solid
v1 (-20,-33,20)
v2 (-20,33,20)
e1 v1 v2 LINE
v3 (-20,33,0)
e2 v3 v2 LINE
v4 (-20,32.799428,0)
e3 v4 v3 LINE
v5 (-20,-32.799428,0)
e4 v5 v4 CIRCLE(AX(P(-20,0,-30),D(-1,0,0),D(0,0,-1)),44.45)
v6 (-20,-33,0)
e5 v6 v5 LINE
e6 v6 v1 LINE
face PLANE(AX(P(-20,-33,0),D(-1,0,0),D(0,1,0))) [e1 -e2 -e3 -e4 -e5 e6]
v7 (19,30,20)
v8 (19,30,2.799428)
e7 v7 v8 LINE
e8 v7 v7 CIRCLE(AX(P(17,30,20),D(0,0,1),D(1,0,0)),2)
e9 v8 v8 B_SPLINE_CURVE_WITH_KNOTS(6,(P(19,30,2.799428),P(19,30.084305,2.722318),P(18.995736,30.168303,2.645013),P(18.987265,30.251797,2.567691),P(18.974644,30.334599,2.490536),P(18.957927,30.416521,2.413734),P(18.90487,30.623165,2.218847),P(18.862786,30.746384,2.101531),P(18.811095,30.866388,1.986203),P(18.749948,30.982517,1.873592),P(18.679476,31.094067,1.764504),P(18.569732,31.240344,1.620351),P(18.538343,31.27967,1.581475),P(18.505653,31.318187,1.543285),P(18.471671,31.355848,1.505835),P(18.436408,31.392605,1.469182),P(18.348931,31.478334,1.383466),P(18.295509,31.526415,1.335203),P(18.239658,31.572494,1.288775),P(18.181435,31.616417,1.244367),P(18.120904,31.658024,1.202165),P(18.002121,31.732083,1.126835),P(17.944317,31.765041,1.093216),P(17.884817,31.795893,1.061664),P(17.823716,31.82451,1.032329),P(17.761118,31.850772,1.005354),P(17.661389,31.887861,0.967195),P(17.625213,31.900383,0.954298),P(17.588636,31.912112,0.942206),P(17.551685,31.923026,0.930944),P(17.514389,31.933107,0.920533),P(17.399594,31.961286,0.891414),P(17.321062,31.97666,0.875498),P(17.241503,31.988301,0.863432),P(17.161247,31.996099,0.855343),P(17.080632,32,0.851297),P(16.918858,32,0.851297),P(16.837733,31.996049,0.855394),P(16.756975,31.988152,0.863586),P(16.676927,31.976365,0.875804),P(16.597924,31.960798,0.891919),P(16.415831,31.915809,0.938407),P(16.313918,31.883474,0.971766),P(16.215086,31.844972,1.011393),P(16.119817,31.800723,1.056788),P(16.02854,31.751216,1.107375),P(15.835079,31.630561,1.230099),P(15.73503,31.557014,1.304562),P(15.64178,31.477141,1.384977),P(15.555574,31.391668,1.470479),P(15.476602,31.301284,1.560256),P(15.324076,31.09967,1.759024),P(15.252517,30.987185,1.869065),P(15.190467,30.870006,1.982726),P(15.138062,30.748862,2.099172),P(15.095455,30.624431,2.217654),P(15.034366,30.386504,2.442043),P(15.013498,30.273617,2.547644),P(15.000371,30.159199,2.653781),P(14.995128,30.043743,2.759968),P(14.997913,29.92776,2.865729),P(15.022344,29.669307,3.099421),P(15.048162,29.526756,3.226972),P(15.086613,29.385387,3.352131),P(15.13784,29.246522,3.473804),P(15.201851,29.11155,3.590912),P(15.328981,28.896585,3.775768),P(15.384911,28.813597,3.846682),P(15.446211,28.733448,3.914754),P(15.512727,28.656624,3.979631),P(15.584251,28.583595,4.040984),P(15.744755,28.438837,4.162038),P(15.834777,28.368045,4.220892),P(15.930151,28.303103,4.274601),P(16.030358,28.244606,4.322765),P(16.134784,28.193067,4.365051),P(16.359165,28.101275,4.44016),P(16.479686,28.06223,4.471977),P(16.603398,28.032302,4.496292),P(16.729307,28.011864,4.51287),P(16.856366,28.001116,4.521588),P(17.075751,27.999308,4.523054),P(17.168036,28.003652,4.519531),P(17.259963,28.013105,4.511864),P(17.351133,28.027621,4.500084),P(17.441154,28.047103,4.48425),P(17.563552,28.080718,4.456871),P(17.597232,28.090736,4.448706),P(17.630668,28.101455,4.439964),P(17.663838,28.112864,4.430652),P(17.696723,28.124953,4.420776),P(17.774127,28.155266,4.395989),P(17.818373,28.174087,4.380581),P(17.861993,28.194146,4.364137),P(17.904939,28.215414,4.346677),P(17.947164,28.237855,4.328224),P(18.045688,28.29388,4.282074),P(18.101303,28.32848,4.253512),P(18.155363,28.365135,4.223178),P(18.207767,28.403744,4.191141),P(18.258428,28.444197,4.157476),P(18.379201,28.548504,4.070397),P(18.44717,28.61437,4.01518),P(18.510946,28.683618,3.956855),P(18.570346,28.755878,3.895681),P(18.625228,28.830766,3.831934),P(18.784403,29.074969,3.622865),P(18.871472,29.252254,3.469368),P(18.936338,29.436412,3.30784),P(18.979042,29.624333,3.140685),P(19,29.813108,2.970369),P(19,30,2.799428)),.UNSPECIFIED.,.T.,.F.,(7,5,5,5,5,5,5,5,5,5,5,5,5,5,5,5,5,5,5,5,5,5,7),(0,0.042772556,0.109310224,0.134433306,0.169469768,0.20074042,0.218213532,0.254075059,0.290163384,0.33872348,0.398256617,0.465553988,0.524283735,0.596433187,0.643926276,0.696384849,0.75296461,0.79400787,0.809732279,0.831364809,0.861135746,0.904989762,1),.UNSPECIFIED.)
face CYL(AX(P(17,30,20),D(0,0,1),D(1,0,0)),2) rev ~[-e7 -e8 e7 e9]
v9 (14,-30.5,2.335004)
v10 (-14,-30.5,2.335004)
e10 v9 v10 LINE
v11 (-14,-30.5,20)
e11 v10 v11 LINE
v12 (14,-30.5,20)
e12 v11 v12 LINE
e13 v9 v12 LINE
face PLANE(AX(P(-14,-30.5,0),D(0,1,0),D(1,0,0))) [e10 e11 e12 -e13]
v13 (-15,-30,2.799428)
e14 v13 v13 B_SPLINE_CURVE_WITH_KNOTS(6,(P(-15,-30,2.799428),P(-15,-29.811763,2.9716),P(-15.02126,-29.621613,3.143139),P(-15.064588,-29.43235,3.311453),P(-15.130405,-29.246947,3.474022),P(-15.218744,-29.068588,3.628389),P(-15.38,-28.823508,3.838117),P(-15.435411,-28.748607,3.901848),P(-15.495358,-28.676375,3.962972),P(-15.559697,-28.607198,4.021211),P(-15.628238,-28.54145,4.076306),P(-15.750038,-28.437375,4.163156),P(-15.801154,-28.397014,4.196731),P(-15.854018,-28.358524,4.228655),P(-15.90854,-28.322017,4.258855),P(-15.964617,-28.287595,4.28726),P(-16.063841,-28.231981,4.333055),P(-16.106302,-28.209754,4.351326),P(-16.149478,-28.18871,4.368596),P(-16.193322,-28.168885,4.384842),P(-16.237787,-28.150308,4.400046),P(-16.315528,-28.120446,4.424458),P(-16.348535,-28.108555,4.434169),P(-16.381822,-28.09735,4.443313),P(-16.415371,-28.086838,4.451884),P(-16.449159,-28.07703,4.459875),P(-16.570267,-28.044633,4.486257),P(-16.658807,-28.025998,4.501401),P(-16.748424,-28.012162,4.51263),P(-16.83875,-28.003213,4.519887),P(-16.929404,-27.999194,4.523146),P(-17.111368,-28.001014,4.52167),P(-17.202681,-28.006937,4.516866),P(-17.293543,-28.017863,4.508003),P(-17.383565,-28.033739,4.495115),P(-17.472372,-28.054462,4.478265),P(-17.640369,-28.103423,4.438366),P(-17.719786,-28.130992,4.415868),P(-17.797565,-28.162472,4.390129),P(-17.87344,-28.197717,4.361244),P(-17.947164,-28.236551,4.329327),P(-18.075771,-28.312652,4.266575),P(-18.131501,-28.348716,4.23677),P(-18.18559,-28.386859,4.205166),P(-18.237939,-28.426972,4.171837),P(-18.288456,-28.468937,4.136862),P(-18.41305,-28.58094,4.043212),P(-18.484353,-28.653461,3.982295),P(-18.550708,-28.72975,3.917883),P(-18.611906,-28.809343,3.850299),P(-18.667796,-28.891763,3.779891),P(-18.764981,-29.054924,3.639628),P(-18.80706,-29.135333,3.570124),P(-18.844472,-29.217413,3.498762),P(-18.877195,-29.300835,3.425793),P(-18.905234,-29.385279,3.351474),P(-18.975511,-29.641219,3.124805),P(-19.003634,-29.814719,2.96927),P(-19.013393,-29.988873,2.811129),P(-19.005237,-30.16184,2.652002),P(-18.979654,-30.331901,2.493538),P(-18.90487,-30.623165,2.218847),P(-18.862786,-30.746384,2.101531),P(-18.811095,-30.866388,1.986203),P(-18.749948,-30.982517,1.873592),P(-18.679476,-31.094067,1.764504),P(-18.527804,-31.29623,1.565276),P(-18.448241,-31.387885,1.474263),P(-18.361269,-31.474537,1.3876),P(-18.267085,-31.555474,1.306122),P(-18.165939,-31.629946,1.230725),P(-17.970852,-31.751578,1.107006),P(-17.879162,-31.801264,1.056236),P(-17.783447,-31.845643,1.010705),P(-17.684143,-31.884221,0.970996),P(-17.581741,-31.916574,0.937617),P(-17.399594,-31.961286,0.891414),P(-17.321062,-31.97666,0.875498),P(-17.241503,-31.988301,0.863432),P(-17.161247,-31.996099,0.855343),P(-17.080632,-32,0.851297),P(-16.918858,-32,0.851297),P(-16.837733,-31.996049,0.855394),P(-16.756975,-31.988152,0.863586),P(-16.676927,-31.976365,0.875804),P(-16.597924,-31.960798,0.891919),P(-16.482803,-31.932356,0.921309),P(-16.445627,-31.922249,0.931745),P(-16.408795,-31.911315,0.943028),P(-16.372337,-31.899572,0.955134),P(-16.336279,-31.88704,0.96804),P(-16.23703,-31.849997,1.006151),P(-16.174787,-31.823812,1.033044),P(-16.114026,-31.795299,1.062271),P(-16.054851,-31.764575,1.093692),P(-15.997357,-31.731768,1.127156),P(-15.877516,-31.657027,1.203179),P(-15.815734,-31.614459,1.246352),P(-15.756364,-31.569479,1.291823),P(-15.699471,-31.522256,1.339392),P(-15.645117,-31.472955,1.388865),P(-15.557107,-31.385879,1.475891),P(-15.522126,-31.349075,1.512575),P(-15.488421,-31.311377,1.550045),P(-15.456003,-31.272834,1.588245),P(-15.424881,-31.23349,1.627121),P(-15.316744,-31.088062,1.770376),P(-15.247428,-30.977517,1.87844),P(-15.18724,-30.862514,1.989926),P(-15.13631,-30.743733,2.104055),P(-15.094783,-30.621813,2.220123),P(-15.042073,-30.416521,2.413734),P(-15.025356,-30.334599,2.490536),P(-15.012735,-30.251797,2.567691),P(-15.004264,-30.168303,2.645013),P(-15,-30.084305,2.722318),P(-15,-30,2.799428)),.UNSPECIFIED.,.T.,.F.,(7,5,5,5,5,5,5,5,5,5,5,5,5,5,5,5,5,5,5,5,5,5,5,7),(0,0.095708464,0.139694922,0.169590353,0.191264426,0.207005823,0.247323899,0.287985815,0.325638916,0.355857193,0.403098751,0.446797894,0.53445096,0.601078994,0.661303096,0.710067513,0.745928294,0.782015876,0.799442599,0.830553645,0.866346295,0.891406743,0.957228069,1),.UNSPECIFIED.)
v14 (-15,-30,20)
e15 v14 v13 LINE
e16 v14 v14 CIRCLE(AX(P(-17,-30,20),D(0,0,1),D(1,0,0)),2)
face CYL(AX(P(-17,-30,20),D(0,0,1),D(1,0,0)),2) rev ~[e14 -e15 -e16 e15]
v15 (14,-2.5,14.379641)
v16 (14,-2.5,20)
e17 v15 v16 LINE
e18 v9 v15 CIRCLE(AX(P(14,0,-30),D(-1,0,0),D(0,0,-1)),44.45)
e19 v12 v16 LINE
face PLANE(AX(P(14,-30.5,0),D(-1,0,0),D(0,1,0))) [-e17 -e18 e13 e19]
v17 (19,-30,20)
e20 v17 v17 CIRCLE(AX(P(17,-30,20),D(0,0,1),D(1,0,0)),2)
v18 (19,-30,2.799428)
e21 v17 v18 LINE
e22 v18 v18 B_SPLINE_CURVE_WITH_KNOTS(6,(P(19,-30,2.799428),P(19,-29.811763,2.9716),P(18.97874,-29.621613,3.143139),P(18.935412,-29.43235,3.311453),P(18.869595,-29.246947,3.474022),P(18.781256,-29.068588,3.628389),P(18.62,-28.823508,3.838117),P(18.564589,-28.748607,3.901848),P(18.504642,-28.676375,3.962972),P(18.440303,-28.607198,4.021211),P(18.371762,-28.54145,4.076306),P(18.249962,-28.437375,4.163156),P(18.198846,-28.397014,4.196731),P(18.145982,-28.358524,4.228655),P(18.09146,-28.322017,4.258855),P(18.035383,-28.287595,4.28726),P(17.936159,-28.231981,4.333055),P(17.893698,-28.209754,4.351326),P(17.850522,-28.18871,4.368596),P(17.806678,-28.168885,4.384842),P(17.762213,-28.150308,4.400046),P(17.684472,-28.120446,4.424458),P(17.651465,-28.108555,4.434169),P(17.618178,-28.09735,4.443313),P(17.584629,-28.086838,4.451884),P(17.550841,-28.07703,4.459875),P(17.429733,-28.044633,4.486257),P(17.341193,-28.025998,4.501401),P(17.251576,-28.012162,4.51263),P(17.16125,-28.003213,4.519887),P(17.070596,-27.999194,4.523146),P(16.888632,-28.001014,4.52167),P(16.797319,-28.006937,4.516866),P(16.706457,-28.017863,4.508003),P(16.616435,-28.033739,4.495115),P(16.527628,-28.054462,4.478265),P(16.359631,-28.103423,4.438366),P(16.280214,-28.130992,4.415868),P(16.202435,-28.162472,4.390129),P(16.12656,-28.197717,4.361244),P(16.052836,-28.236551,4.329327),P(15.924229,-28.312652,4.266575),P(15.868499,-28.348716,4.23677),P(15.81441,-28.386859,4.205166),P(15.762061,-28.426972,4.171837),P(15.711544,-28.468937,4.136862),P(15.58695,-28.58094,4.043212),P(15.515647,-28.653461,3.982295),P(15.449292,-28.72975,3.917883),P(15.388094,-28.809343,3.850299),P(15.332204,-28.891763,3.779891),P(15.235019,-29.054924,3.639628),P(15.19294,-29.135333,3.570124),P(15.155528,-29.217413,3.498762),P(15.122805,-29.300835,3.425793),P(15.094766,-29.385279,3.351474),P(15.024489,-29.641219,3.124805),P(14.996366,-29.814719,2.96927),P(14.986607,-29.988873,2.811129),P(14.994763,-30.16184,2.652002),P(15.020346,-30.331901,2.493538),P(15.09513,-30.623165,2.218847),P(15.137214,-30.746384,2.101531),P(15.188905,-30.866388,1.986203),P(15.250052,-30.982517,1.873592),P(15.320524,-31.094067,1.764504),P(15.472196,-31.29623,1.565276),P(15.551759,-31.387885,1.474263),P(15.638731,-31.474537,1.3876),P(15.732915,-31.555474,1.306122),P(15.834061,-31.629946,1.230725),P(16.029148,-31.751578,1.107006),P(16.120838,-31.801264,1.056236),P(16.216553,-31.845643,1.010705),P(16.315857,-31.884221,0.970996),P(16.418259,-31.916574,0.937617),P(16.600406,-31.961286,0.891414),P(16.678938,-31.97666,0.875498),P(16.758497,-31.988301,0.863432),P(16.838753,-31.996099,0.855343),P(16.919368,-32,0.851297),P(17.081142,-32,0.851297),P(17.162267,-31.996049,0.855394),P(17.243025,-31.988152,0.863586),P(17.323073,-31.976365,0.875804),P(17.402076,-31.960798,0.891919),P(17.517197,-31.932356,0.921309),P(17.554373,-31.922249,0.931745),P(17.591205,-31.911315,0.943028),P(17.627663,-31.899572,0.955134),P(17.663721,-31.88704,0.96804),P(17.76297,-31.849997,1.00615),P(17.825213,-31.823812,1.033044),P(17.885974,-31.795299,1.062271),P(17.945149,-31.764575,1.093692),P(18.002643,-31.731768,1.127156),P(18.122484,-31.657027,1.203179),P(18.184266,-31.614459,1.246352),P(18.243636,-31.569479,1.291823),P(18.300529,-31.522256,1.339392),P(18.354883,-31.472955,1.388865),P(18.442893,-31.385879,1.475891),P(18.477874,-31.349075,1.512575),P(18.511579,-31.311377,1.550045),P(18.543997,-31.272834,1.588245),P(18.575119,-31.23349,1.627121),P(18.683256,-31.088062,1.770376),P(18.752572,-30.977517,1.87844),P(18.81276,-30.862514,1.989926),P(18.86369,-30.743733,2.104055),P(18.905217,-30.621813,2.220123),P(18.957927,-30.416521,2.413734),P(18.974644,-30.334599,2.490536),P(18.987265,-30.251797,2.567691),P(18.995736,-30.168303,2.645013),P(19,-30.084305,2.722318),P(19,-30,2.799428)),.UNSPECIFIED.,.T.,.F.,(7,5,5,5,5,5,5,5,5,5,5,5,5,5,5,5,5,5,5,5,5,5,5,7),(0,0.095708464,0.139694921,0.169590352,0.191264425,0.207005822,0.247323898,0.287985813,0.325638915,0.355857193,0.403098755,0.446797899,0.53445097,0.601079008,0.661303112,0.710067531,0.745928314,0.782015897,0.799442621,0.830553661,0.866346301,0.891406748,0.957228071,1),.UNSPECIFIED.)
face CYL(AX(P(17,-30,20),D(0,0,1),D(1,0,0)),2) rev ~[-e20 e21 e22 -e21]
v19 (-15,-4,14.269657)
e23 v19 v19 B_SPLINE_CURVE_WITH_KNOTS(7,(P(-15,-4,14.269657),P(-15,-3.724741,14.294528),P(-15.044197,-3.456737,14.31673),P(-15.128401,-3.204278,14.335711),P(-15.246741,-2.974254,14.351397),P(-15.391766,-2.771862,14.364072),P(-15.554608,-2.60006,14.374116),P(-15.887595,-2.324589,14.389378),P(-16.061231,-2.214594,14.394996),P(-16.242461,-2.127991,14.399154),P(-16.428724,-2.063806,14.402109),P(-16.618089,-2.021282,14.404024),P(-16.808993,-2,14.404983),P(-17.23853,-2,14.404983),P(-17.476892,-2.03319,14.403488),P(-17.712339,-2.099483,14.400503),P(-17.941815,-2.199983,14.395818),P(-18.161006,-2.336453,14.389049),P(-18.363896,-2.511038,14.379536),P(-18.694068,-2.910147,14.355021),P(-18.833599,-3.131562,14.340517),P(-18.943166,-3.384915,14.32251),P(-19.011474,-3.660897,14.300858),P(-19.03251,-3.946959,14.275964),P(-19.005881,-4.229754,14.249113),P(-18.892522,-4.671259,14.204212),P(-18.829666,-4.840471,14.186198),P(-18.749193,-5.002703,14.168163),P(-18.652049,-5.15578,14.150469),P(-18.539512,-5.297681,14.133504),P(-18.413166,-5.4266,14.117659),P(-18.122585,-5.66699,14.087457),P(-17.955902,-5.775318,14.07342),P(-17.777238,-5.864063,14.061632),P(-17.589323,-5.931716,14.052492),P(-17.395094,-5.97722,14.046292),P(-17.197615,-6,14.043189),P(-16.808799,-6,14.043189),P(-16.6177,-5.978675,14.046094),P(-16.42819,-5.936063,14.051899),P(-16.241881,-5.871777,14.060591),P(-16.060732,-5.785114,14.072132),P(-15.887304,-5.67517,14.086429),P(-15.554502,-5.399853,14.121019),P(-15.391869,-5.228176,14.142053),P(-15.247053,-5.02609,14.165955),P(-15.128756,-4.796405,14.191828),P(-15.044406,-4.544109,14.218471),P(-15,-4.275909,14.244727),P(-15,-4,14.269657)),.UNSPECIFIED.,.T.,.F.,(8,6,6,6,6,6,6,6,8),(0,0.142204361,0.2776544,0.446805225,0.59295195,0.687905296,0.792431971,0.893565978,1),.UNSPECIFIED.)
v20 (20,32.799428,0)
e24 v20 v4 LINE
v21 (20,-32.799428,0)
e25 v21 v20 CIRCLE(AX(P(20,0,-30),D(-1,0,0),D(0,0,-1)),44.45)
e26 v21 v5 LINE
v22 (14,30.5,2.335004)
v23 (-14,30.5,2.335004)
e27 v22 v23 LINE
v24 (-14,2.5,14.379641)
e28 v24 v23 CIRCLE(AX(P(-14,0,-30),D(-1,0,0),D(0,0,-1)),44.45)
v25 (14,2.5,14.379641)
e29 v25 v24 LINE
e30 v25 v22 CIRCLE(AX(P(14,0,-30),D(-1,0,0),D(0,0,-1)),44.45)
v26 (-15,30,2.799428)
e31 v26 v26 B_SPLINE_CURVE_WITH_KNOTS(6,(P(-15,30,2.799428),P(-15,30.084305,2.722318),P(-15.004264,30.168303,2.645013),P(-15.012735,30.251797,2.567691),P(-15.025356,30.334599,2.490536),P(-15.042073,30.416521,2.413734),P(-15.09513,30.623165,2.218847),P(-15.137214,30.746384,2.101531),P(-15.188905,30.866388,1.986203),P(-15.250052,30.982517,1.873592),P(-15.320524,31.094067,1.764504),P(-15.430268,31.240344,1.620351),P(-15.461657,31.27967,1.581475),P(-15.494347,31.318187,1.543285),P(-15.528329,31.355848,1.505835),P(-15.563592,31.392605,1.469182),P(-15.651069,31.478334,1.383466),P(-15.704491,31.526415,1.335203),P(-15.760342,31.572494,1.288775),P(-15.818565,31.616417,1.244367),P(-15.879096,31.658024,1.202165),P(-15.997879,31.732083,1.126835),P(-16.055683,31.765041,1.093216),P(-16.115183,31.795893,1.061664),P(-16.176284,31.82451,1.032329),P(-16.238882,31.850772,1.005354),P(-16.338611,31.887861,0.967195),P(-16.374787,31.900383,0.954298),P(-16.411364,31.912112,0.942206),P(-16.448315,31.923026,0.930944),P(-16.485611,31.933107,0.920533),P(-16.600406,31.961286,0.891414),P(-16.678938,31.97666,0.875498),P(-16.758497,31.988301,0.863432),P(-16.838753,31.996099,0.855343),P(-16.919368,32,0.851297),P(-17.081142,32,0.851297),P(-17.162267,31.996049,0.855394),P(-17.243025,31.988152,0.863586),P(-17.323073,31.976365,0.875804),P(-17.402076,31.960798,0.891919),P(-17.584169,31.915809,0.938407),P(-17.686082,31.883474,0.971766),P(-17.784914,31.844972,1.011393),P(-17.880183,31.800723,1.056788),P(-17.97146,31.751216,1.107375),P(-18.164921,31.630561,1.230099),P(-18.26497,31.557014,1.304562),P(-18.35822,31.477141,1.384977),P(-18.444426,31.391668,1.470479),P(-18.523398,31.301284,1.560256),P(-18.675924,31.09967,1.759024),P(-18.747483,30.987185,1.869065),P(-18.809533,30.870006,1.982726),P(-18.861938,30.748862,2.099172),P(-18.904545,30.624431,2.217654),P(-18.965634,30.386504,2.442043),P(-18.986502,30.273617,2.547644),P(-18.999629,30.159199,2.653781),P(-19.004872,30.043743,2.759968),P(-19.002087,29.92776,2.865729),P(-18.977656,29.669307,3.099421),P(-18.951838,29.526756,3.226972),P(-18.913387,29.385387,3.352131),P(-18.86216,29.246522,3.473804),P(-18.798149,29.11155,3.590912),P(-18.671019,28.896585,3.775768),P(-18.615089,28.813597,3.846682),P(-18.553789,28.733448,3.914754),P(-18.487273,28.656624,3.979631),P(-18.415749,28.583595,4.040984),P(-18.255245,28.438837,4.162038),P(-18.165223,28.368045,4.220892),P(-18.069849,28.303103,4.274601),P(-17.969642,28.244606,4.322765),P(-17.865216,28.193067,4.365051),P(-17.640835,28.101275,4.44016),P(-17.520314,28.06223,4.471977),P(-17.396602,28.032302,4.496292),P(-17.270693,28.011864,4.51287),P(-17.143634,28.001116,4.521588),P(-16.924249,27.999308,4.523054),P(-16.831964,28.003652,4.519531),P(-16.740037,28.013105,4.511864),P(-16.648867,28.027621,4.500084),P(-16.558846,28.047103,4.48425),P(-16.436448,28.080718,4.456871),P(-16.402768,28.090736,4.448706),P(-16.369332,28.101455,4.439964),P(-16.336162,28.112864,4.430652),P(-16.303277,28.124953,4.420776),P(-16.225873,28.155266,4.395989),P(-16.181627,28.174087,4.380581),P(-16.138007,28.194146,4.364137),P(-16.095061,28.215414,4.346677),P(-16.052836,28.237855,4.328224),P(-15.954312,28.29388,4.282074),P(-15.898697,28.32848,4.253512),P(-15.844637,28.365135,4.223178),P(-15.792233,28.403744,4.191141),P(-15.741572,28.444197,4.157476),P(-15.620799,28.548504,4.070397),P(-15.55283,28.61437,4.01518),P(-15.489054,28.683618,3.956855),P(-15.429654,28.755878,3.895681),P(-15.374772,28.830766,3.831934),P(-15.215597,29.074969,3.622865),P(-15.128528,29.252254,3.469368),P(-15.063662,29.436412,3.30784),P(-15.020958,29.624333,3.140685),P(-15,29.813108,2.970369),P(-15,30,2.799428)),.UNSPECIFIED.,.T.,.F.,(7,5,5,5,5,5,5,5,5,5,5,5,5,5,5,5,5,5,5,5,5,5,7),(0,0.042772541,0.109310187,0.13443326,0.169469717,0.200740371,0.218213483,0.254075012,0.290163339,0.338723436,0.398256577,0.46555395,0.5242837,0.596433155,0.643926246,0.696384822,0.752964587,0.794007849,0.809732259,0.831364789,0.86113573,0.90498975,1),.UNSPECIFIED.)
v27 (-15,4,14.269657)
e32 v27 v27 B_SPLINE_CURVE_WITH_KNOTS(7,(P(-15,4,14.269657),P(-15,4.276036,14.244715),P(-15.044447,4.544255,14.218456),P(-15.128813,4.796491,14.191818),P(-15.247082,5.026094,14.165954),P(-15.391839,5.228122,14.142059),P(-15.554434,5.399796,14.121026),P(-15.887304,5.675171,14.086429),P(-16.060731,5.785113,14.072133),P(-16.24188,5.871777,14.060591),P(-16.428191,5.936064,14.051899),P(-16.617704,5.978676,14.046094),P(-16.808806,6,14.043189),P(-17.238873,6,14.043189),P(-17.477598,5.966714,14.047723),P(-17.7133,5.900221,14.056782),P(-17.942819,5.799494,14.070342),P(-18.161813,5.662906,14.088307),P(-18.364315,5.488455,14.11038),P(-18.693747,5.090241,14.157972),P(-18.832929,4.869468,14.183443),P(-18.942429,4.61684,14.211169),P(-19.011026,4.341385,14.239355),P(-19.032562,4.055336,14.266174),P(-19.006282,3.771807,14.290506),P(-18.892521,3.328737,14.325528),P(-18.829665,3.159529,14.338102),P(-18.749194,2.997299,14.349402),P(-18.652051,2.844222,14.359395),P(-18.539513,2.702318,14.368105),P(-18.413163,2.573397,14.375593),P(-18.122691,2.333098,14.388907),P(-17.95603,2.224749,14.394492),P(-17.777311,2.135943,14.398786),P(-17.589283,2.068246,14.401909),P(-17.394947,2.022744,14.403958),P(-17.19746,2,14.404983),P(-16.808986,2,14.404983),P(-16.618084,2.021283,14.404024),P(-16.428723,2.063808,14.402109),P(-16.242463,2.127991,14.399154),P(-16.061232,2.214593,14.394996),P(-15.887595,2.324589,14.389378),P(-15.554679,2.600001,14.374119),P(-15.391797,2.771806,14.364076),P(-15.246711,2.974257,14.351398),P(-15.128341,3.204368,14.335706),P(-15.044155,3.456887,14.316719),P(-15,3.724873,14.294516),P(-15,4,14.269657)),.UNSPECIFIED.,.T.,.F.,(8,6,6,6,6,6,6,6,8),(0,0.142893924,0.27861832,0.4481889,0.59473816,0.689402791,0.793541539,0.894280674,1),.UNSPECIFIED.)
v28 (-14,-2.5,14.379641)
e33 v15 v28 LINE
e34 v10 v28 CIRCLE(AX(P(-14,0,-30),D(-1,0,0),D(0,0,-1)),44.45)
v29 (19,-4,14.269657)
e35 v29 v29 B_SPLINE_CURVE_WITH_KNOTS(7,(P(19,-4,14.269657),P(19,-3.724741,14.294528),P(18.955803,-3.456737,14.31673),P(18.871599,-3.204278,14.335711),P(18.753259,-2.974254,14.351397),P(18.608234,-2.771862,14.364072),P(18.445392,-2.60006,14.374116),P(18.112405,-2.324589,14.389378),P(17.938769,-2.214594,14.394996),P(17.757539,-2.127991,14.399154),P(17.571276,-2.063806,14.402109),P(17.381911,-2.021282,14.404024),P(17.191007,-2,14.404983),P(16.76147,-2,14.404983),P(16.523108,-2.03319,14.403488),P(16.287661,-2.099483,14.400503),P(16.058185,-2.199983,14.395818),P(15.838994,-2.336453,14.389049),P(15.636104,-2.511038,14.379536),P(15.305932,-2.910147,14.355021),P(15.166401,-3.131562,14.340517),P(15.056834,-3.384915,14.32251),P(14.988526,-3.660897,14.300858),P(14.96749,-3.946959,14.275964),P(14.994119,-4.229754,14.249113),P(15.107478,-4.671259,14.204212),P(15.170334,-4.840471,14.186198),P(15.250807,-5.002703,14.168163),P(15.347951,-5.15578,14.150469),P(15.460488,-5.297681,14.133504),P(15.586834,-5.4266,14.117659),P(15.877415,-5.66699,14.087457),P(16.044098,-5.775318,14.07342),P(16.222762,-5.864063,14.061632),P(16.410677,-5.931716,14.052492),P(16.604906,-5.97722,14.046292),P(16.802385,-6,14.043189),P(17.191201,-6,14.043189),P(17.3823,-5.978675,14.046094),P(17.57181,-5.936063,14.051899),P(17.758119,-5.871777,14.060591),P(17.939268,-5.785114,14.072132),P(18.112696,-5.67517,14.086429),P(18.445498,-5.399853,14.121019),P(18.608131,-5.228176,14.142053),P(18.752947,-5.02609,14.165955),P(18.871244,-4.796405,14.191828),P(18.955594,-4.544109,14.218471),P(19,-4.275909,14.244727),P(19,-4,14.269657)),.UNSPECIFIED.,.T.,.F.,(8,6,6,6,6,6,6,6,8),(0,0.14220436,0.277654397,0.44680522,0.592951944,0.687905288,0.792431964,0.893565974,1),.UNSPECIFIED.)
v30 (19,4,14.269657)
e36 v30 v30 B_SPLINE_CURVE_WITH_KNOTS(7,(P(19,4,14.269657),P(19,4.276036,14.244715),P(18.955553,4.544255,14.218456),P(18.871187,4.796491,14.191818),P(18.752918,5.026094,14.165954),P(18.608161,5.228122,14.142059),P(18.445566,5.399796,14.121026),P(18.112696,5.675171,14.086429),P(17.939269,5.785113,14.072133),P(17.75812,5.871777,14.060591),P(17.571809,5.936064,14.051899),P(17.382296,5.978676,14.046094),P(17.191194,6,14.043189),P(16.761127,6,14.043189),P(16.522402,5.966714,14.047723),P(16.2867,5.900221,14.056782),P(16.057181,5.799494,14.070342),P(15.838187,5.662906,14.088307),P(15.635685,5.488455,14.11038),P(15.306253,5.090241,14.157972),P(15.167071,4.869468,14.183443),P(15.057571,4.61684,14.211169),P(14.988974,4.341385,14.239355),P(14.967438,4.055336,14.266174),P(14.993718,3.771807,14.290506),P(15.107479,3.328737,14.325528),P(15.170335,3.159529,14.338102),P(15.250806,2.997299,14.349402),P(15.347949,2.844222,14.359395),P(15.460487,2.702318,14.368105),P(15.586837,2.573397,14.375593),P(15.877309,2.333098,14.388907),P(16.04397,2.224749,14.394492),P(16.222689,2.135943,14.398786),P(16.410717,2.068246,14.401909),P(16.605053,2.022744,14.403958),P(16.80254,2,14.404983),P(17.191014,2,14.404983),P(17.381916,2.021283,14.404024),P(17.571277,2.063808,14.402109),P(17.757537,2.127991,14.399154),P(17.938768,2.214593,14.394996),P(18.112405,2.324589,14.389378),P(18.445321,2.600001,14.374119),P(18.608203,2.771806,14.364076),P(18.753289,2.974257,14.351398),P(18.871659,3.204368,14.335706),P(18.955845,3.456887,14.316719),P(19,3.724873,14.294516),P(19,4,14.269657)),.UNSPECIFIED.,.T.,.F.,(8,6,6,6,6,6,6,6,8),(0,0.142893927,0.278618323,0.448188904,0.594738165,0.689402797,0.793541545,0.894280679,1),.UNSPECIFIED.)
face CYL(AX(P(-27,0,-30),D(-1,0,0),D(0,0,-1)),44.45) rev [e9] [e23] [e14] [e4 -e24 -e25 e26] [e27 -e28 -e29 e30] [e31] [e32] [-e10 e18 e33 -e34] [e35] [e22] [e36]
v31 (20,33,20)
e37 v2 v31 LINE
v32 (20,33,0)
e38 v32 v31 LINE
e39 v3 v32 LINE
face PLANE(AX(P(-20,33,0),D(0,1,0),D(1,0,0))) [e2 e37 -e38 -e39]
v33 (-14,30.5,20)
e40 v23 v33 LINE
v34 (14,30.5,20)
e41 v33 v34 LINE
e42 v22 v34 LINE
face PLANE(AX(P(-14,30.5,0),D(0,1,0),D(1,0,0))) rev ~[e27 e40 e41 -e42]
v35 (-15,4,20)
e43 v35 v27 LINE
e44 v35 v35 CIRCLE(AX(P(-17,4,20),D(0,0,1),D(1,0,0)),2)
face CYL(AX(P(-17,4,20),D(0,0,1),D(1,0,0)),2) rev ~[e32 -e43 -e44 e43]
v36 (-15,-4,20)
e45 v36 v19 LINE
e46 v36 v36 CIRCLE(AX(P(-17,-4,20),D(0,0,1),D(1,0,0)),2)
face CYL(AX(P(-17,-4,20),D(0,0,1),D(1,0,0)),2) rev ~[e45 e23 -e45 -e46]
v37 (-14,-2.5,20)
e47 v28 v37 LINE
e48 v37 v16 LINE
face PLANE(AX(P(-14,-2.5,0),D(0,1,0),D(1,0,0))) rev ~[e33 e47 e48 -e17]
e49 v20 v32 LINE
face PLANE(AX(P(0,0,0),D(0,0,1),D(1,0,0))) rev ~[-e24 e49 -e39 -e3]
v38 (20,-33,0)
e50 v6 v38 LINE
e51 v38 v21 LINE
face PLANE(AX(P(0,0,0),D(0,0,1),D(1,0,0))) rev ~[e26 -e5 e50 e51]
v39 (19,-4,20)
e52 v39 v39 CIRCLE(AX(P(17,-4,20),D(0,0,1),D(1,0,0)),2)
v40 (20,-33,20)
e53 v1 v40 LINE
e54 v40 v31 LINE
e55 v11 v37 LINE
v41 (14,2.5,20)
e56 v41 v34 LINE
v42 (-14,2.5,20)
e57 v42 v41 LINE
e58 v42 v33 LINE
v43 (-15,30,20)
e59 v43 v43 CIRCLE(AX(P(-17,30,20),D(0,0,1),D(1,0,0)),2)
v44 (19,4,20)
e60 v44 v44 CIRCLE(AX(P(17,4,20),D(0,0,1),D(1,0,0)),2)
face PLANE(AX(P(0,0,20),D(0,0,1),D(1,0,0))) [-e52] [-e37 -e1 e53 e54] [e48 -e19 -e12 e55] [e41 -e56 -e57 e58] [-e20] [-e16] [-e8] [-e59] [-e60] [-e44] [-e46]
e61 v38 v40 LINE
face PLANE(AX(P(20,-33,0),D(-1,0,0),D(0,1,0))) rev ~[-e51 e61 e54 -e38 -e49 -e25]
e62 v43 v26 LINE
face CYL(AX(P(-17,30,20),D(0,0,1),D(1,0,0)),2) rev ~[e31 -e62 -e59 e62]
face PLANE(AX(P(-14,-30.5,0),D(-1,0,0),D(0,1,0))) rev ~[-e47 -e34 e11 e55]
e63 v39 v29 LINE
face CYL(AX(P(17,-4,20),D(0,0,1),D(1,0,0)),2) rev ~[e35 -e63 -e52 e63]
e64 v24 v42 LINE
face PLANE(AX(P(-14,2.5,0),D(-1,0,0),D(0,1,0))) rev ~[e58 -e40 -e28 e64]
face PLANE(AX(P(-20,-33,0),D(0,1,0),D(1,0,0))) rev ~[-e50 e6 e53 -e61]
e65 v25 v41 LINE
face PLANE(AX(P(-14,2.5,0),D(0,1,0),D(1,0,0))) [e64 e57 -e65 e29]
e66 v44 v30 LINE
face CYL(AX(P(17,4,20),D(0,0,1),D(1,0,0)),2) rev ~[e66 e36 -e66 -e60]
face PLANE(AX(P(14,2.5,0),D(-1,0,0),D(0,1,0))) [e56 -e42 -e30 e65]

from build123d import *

# Parameters (mm, degrees)
SKETCH1_W               = 40
SKETCH1_H               = 66
SKETCH1_W_2             = 28
SKETCH1_H_2             = 28
BOSS_EXTRUDE1_DEPTH     = 20
CUT_EXTRUDE1_DEPTH      = 26
CUT_EXTRUDE1_DEPTH_BACK = 27
SKETCH3_R               = 44.45
SKETCH4_R               = 2
CUT_EXTRUDE2_DEPTH      = 27
SKETCH5_R               = 2
CUT_EXTRUDE3_DEPTH      = 44.462627716


with BuildPart() as part:
    # Sketch1 → Boss-Extrude1 (new body)
    with BuildSketch(Plane.XY):
        Rectangle(SKETCH1_W, SKETCH1_H)
        with Locations((0, 16.5)):
            Rectangle(SKETCH1_W_2, SKETCH1_H_2, mode=Mode.SUBTRACT)
        with Locations((0, -16.5)):
            Rectangle(SKETCH1_W_2, SKETCH1_H_2, mode=Mode.SUBTRACT)
    extrude(amount=BOSS_EXTRUDE1_DEPTH)

    # Sketch3 → Cut-Extrude1 (cut, two sides: drawn at the far end of the back side and taken through both)
    with BuildSketch(Plane(origin=(0, 0, 0), x_dir=(0, 0, -1), z_dir=(1, 0, 0)).offset(-CUT_EXTRUDE1_DEPTH_BACK)):
        with Locations((30, 0)):
            Circle(SKETCH3_R)
    extrude(amount=CUT_EXTRUDE1_DEPTH + CUT_EXTRUDE1_DEPTH_BACK, mode=Mode.SUBTRACT)

    # Sketch4 → Cut-Extrude2 (cut)
    with BuildSketch(Plane.XY.offset(20)):
        with Locations((-17, 30)):
            Circle(SKETCH4_R)
        with Locations((17, 30)):
            Circle(SKETCH4_R)
        with Locations((-17, -30)):
            Circle(SKETCH4_R)
        with Locations((17, -30)):
            Circle(SKETCH4_R)
    extrude(amount=-CUT_EXTRUDE2_DEPTH, mode=Mode.SUBTRACT)

    # Sketch5 → Cut-Extrude3 (cut, through all)
    with BuildSketch(Plane.XY.offset(20)):
        with Locations((-17, 4)):
            Circle(SKETCH5_R)
        with Locations((-17, -4)):
            Circle(SKETCH5_R)
        with Locations((17, 4)):
            Circle(SKETCH5_R)
        with Locations((17, -4)):
            Circle(SKETCH5_R)
    extrude(amount=-CUT_EXTRUDE3_DEPTH, mode=Mode.SUBTRACT)


solid = part.part
